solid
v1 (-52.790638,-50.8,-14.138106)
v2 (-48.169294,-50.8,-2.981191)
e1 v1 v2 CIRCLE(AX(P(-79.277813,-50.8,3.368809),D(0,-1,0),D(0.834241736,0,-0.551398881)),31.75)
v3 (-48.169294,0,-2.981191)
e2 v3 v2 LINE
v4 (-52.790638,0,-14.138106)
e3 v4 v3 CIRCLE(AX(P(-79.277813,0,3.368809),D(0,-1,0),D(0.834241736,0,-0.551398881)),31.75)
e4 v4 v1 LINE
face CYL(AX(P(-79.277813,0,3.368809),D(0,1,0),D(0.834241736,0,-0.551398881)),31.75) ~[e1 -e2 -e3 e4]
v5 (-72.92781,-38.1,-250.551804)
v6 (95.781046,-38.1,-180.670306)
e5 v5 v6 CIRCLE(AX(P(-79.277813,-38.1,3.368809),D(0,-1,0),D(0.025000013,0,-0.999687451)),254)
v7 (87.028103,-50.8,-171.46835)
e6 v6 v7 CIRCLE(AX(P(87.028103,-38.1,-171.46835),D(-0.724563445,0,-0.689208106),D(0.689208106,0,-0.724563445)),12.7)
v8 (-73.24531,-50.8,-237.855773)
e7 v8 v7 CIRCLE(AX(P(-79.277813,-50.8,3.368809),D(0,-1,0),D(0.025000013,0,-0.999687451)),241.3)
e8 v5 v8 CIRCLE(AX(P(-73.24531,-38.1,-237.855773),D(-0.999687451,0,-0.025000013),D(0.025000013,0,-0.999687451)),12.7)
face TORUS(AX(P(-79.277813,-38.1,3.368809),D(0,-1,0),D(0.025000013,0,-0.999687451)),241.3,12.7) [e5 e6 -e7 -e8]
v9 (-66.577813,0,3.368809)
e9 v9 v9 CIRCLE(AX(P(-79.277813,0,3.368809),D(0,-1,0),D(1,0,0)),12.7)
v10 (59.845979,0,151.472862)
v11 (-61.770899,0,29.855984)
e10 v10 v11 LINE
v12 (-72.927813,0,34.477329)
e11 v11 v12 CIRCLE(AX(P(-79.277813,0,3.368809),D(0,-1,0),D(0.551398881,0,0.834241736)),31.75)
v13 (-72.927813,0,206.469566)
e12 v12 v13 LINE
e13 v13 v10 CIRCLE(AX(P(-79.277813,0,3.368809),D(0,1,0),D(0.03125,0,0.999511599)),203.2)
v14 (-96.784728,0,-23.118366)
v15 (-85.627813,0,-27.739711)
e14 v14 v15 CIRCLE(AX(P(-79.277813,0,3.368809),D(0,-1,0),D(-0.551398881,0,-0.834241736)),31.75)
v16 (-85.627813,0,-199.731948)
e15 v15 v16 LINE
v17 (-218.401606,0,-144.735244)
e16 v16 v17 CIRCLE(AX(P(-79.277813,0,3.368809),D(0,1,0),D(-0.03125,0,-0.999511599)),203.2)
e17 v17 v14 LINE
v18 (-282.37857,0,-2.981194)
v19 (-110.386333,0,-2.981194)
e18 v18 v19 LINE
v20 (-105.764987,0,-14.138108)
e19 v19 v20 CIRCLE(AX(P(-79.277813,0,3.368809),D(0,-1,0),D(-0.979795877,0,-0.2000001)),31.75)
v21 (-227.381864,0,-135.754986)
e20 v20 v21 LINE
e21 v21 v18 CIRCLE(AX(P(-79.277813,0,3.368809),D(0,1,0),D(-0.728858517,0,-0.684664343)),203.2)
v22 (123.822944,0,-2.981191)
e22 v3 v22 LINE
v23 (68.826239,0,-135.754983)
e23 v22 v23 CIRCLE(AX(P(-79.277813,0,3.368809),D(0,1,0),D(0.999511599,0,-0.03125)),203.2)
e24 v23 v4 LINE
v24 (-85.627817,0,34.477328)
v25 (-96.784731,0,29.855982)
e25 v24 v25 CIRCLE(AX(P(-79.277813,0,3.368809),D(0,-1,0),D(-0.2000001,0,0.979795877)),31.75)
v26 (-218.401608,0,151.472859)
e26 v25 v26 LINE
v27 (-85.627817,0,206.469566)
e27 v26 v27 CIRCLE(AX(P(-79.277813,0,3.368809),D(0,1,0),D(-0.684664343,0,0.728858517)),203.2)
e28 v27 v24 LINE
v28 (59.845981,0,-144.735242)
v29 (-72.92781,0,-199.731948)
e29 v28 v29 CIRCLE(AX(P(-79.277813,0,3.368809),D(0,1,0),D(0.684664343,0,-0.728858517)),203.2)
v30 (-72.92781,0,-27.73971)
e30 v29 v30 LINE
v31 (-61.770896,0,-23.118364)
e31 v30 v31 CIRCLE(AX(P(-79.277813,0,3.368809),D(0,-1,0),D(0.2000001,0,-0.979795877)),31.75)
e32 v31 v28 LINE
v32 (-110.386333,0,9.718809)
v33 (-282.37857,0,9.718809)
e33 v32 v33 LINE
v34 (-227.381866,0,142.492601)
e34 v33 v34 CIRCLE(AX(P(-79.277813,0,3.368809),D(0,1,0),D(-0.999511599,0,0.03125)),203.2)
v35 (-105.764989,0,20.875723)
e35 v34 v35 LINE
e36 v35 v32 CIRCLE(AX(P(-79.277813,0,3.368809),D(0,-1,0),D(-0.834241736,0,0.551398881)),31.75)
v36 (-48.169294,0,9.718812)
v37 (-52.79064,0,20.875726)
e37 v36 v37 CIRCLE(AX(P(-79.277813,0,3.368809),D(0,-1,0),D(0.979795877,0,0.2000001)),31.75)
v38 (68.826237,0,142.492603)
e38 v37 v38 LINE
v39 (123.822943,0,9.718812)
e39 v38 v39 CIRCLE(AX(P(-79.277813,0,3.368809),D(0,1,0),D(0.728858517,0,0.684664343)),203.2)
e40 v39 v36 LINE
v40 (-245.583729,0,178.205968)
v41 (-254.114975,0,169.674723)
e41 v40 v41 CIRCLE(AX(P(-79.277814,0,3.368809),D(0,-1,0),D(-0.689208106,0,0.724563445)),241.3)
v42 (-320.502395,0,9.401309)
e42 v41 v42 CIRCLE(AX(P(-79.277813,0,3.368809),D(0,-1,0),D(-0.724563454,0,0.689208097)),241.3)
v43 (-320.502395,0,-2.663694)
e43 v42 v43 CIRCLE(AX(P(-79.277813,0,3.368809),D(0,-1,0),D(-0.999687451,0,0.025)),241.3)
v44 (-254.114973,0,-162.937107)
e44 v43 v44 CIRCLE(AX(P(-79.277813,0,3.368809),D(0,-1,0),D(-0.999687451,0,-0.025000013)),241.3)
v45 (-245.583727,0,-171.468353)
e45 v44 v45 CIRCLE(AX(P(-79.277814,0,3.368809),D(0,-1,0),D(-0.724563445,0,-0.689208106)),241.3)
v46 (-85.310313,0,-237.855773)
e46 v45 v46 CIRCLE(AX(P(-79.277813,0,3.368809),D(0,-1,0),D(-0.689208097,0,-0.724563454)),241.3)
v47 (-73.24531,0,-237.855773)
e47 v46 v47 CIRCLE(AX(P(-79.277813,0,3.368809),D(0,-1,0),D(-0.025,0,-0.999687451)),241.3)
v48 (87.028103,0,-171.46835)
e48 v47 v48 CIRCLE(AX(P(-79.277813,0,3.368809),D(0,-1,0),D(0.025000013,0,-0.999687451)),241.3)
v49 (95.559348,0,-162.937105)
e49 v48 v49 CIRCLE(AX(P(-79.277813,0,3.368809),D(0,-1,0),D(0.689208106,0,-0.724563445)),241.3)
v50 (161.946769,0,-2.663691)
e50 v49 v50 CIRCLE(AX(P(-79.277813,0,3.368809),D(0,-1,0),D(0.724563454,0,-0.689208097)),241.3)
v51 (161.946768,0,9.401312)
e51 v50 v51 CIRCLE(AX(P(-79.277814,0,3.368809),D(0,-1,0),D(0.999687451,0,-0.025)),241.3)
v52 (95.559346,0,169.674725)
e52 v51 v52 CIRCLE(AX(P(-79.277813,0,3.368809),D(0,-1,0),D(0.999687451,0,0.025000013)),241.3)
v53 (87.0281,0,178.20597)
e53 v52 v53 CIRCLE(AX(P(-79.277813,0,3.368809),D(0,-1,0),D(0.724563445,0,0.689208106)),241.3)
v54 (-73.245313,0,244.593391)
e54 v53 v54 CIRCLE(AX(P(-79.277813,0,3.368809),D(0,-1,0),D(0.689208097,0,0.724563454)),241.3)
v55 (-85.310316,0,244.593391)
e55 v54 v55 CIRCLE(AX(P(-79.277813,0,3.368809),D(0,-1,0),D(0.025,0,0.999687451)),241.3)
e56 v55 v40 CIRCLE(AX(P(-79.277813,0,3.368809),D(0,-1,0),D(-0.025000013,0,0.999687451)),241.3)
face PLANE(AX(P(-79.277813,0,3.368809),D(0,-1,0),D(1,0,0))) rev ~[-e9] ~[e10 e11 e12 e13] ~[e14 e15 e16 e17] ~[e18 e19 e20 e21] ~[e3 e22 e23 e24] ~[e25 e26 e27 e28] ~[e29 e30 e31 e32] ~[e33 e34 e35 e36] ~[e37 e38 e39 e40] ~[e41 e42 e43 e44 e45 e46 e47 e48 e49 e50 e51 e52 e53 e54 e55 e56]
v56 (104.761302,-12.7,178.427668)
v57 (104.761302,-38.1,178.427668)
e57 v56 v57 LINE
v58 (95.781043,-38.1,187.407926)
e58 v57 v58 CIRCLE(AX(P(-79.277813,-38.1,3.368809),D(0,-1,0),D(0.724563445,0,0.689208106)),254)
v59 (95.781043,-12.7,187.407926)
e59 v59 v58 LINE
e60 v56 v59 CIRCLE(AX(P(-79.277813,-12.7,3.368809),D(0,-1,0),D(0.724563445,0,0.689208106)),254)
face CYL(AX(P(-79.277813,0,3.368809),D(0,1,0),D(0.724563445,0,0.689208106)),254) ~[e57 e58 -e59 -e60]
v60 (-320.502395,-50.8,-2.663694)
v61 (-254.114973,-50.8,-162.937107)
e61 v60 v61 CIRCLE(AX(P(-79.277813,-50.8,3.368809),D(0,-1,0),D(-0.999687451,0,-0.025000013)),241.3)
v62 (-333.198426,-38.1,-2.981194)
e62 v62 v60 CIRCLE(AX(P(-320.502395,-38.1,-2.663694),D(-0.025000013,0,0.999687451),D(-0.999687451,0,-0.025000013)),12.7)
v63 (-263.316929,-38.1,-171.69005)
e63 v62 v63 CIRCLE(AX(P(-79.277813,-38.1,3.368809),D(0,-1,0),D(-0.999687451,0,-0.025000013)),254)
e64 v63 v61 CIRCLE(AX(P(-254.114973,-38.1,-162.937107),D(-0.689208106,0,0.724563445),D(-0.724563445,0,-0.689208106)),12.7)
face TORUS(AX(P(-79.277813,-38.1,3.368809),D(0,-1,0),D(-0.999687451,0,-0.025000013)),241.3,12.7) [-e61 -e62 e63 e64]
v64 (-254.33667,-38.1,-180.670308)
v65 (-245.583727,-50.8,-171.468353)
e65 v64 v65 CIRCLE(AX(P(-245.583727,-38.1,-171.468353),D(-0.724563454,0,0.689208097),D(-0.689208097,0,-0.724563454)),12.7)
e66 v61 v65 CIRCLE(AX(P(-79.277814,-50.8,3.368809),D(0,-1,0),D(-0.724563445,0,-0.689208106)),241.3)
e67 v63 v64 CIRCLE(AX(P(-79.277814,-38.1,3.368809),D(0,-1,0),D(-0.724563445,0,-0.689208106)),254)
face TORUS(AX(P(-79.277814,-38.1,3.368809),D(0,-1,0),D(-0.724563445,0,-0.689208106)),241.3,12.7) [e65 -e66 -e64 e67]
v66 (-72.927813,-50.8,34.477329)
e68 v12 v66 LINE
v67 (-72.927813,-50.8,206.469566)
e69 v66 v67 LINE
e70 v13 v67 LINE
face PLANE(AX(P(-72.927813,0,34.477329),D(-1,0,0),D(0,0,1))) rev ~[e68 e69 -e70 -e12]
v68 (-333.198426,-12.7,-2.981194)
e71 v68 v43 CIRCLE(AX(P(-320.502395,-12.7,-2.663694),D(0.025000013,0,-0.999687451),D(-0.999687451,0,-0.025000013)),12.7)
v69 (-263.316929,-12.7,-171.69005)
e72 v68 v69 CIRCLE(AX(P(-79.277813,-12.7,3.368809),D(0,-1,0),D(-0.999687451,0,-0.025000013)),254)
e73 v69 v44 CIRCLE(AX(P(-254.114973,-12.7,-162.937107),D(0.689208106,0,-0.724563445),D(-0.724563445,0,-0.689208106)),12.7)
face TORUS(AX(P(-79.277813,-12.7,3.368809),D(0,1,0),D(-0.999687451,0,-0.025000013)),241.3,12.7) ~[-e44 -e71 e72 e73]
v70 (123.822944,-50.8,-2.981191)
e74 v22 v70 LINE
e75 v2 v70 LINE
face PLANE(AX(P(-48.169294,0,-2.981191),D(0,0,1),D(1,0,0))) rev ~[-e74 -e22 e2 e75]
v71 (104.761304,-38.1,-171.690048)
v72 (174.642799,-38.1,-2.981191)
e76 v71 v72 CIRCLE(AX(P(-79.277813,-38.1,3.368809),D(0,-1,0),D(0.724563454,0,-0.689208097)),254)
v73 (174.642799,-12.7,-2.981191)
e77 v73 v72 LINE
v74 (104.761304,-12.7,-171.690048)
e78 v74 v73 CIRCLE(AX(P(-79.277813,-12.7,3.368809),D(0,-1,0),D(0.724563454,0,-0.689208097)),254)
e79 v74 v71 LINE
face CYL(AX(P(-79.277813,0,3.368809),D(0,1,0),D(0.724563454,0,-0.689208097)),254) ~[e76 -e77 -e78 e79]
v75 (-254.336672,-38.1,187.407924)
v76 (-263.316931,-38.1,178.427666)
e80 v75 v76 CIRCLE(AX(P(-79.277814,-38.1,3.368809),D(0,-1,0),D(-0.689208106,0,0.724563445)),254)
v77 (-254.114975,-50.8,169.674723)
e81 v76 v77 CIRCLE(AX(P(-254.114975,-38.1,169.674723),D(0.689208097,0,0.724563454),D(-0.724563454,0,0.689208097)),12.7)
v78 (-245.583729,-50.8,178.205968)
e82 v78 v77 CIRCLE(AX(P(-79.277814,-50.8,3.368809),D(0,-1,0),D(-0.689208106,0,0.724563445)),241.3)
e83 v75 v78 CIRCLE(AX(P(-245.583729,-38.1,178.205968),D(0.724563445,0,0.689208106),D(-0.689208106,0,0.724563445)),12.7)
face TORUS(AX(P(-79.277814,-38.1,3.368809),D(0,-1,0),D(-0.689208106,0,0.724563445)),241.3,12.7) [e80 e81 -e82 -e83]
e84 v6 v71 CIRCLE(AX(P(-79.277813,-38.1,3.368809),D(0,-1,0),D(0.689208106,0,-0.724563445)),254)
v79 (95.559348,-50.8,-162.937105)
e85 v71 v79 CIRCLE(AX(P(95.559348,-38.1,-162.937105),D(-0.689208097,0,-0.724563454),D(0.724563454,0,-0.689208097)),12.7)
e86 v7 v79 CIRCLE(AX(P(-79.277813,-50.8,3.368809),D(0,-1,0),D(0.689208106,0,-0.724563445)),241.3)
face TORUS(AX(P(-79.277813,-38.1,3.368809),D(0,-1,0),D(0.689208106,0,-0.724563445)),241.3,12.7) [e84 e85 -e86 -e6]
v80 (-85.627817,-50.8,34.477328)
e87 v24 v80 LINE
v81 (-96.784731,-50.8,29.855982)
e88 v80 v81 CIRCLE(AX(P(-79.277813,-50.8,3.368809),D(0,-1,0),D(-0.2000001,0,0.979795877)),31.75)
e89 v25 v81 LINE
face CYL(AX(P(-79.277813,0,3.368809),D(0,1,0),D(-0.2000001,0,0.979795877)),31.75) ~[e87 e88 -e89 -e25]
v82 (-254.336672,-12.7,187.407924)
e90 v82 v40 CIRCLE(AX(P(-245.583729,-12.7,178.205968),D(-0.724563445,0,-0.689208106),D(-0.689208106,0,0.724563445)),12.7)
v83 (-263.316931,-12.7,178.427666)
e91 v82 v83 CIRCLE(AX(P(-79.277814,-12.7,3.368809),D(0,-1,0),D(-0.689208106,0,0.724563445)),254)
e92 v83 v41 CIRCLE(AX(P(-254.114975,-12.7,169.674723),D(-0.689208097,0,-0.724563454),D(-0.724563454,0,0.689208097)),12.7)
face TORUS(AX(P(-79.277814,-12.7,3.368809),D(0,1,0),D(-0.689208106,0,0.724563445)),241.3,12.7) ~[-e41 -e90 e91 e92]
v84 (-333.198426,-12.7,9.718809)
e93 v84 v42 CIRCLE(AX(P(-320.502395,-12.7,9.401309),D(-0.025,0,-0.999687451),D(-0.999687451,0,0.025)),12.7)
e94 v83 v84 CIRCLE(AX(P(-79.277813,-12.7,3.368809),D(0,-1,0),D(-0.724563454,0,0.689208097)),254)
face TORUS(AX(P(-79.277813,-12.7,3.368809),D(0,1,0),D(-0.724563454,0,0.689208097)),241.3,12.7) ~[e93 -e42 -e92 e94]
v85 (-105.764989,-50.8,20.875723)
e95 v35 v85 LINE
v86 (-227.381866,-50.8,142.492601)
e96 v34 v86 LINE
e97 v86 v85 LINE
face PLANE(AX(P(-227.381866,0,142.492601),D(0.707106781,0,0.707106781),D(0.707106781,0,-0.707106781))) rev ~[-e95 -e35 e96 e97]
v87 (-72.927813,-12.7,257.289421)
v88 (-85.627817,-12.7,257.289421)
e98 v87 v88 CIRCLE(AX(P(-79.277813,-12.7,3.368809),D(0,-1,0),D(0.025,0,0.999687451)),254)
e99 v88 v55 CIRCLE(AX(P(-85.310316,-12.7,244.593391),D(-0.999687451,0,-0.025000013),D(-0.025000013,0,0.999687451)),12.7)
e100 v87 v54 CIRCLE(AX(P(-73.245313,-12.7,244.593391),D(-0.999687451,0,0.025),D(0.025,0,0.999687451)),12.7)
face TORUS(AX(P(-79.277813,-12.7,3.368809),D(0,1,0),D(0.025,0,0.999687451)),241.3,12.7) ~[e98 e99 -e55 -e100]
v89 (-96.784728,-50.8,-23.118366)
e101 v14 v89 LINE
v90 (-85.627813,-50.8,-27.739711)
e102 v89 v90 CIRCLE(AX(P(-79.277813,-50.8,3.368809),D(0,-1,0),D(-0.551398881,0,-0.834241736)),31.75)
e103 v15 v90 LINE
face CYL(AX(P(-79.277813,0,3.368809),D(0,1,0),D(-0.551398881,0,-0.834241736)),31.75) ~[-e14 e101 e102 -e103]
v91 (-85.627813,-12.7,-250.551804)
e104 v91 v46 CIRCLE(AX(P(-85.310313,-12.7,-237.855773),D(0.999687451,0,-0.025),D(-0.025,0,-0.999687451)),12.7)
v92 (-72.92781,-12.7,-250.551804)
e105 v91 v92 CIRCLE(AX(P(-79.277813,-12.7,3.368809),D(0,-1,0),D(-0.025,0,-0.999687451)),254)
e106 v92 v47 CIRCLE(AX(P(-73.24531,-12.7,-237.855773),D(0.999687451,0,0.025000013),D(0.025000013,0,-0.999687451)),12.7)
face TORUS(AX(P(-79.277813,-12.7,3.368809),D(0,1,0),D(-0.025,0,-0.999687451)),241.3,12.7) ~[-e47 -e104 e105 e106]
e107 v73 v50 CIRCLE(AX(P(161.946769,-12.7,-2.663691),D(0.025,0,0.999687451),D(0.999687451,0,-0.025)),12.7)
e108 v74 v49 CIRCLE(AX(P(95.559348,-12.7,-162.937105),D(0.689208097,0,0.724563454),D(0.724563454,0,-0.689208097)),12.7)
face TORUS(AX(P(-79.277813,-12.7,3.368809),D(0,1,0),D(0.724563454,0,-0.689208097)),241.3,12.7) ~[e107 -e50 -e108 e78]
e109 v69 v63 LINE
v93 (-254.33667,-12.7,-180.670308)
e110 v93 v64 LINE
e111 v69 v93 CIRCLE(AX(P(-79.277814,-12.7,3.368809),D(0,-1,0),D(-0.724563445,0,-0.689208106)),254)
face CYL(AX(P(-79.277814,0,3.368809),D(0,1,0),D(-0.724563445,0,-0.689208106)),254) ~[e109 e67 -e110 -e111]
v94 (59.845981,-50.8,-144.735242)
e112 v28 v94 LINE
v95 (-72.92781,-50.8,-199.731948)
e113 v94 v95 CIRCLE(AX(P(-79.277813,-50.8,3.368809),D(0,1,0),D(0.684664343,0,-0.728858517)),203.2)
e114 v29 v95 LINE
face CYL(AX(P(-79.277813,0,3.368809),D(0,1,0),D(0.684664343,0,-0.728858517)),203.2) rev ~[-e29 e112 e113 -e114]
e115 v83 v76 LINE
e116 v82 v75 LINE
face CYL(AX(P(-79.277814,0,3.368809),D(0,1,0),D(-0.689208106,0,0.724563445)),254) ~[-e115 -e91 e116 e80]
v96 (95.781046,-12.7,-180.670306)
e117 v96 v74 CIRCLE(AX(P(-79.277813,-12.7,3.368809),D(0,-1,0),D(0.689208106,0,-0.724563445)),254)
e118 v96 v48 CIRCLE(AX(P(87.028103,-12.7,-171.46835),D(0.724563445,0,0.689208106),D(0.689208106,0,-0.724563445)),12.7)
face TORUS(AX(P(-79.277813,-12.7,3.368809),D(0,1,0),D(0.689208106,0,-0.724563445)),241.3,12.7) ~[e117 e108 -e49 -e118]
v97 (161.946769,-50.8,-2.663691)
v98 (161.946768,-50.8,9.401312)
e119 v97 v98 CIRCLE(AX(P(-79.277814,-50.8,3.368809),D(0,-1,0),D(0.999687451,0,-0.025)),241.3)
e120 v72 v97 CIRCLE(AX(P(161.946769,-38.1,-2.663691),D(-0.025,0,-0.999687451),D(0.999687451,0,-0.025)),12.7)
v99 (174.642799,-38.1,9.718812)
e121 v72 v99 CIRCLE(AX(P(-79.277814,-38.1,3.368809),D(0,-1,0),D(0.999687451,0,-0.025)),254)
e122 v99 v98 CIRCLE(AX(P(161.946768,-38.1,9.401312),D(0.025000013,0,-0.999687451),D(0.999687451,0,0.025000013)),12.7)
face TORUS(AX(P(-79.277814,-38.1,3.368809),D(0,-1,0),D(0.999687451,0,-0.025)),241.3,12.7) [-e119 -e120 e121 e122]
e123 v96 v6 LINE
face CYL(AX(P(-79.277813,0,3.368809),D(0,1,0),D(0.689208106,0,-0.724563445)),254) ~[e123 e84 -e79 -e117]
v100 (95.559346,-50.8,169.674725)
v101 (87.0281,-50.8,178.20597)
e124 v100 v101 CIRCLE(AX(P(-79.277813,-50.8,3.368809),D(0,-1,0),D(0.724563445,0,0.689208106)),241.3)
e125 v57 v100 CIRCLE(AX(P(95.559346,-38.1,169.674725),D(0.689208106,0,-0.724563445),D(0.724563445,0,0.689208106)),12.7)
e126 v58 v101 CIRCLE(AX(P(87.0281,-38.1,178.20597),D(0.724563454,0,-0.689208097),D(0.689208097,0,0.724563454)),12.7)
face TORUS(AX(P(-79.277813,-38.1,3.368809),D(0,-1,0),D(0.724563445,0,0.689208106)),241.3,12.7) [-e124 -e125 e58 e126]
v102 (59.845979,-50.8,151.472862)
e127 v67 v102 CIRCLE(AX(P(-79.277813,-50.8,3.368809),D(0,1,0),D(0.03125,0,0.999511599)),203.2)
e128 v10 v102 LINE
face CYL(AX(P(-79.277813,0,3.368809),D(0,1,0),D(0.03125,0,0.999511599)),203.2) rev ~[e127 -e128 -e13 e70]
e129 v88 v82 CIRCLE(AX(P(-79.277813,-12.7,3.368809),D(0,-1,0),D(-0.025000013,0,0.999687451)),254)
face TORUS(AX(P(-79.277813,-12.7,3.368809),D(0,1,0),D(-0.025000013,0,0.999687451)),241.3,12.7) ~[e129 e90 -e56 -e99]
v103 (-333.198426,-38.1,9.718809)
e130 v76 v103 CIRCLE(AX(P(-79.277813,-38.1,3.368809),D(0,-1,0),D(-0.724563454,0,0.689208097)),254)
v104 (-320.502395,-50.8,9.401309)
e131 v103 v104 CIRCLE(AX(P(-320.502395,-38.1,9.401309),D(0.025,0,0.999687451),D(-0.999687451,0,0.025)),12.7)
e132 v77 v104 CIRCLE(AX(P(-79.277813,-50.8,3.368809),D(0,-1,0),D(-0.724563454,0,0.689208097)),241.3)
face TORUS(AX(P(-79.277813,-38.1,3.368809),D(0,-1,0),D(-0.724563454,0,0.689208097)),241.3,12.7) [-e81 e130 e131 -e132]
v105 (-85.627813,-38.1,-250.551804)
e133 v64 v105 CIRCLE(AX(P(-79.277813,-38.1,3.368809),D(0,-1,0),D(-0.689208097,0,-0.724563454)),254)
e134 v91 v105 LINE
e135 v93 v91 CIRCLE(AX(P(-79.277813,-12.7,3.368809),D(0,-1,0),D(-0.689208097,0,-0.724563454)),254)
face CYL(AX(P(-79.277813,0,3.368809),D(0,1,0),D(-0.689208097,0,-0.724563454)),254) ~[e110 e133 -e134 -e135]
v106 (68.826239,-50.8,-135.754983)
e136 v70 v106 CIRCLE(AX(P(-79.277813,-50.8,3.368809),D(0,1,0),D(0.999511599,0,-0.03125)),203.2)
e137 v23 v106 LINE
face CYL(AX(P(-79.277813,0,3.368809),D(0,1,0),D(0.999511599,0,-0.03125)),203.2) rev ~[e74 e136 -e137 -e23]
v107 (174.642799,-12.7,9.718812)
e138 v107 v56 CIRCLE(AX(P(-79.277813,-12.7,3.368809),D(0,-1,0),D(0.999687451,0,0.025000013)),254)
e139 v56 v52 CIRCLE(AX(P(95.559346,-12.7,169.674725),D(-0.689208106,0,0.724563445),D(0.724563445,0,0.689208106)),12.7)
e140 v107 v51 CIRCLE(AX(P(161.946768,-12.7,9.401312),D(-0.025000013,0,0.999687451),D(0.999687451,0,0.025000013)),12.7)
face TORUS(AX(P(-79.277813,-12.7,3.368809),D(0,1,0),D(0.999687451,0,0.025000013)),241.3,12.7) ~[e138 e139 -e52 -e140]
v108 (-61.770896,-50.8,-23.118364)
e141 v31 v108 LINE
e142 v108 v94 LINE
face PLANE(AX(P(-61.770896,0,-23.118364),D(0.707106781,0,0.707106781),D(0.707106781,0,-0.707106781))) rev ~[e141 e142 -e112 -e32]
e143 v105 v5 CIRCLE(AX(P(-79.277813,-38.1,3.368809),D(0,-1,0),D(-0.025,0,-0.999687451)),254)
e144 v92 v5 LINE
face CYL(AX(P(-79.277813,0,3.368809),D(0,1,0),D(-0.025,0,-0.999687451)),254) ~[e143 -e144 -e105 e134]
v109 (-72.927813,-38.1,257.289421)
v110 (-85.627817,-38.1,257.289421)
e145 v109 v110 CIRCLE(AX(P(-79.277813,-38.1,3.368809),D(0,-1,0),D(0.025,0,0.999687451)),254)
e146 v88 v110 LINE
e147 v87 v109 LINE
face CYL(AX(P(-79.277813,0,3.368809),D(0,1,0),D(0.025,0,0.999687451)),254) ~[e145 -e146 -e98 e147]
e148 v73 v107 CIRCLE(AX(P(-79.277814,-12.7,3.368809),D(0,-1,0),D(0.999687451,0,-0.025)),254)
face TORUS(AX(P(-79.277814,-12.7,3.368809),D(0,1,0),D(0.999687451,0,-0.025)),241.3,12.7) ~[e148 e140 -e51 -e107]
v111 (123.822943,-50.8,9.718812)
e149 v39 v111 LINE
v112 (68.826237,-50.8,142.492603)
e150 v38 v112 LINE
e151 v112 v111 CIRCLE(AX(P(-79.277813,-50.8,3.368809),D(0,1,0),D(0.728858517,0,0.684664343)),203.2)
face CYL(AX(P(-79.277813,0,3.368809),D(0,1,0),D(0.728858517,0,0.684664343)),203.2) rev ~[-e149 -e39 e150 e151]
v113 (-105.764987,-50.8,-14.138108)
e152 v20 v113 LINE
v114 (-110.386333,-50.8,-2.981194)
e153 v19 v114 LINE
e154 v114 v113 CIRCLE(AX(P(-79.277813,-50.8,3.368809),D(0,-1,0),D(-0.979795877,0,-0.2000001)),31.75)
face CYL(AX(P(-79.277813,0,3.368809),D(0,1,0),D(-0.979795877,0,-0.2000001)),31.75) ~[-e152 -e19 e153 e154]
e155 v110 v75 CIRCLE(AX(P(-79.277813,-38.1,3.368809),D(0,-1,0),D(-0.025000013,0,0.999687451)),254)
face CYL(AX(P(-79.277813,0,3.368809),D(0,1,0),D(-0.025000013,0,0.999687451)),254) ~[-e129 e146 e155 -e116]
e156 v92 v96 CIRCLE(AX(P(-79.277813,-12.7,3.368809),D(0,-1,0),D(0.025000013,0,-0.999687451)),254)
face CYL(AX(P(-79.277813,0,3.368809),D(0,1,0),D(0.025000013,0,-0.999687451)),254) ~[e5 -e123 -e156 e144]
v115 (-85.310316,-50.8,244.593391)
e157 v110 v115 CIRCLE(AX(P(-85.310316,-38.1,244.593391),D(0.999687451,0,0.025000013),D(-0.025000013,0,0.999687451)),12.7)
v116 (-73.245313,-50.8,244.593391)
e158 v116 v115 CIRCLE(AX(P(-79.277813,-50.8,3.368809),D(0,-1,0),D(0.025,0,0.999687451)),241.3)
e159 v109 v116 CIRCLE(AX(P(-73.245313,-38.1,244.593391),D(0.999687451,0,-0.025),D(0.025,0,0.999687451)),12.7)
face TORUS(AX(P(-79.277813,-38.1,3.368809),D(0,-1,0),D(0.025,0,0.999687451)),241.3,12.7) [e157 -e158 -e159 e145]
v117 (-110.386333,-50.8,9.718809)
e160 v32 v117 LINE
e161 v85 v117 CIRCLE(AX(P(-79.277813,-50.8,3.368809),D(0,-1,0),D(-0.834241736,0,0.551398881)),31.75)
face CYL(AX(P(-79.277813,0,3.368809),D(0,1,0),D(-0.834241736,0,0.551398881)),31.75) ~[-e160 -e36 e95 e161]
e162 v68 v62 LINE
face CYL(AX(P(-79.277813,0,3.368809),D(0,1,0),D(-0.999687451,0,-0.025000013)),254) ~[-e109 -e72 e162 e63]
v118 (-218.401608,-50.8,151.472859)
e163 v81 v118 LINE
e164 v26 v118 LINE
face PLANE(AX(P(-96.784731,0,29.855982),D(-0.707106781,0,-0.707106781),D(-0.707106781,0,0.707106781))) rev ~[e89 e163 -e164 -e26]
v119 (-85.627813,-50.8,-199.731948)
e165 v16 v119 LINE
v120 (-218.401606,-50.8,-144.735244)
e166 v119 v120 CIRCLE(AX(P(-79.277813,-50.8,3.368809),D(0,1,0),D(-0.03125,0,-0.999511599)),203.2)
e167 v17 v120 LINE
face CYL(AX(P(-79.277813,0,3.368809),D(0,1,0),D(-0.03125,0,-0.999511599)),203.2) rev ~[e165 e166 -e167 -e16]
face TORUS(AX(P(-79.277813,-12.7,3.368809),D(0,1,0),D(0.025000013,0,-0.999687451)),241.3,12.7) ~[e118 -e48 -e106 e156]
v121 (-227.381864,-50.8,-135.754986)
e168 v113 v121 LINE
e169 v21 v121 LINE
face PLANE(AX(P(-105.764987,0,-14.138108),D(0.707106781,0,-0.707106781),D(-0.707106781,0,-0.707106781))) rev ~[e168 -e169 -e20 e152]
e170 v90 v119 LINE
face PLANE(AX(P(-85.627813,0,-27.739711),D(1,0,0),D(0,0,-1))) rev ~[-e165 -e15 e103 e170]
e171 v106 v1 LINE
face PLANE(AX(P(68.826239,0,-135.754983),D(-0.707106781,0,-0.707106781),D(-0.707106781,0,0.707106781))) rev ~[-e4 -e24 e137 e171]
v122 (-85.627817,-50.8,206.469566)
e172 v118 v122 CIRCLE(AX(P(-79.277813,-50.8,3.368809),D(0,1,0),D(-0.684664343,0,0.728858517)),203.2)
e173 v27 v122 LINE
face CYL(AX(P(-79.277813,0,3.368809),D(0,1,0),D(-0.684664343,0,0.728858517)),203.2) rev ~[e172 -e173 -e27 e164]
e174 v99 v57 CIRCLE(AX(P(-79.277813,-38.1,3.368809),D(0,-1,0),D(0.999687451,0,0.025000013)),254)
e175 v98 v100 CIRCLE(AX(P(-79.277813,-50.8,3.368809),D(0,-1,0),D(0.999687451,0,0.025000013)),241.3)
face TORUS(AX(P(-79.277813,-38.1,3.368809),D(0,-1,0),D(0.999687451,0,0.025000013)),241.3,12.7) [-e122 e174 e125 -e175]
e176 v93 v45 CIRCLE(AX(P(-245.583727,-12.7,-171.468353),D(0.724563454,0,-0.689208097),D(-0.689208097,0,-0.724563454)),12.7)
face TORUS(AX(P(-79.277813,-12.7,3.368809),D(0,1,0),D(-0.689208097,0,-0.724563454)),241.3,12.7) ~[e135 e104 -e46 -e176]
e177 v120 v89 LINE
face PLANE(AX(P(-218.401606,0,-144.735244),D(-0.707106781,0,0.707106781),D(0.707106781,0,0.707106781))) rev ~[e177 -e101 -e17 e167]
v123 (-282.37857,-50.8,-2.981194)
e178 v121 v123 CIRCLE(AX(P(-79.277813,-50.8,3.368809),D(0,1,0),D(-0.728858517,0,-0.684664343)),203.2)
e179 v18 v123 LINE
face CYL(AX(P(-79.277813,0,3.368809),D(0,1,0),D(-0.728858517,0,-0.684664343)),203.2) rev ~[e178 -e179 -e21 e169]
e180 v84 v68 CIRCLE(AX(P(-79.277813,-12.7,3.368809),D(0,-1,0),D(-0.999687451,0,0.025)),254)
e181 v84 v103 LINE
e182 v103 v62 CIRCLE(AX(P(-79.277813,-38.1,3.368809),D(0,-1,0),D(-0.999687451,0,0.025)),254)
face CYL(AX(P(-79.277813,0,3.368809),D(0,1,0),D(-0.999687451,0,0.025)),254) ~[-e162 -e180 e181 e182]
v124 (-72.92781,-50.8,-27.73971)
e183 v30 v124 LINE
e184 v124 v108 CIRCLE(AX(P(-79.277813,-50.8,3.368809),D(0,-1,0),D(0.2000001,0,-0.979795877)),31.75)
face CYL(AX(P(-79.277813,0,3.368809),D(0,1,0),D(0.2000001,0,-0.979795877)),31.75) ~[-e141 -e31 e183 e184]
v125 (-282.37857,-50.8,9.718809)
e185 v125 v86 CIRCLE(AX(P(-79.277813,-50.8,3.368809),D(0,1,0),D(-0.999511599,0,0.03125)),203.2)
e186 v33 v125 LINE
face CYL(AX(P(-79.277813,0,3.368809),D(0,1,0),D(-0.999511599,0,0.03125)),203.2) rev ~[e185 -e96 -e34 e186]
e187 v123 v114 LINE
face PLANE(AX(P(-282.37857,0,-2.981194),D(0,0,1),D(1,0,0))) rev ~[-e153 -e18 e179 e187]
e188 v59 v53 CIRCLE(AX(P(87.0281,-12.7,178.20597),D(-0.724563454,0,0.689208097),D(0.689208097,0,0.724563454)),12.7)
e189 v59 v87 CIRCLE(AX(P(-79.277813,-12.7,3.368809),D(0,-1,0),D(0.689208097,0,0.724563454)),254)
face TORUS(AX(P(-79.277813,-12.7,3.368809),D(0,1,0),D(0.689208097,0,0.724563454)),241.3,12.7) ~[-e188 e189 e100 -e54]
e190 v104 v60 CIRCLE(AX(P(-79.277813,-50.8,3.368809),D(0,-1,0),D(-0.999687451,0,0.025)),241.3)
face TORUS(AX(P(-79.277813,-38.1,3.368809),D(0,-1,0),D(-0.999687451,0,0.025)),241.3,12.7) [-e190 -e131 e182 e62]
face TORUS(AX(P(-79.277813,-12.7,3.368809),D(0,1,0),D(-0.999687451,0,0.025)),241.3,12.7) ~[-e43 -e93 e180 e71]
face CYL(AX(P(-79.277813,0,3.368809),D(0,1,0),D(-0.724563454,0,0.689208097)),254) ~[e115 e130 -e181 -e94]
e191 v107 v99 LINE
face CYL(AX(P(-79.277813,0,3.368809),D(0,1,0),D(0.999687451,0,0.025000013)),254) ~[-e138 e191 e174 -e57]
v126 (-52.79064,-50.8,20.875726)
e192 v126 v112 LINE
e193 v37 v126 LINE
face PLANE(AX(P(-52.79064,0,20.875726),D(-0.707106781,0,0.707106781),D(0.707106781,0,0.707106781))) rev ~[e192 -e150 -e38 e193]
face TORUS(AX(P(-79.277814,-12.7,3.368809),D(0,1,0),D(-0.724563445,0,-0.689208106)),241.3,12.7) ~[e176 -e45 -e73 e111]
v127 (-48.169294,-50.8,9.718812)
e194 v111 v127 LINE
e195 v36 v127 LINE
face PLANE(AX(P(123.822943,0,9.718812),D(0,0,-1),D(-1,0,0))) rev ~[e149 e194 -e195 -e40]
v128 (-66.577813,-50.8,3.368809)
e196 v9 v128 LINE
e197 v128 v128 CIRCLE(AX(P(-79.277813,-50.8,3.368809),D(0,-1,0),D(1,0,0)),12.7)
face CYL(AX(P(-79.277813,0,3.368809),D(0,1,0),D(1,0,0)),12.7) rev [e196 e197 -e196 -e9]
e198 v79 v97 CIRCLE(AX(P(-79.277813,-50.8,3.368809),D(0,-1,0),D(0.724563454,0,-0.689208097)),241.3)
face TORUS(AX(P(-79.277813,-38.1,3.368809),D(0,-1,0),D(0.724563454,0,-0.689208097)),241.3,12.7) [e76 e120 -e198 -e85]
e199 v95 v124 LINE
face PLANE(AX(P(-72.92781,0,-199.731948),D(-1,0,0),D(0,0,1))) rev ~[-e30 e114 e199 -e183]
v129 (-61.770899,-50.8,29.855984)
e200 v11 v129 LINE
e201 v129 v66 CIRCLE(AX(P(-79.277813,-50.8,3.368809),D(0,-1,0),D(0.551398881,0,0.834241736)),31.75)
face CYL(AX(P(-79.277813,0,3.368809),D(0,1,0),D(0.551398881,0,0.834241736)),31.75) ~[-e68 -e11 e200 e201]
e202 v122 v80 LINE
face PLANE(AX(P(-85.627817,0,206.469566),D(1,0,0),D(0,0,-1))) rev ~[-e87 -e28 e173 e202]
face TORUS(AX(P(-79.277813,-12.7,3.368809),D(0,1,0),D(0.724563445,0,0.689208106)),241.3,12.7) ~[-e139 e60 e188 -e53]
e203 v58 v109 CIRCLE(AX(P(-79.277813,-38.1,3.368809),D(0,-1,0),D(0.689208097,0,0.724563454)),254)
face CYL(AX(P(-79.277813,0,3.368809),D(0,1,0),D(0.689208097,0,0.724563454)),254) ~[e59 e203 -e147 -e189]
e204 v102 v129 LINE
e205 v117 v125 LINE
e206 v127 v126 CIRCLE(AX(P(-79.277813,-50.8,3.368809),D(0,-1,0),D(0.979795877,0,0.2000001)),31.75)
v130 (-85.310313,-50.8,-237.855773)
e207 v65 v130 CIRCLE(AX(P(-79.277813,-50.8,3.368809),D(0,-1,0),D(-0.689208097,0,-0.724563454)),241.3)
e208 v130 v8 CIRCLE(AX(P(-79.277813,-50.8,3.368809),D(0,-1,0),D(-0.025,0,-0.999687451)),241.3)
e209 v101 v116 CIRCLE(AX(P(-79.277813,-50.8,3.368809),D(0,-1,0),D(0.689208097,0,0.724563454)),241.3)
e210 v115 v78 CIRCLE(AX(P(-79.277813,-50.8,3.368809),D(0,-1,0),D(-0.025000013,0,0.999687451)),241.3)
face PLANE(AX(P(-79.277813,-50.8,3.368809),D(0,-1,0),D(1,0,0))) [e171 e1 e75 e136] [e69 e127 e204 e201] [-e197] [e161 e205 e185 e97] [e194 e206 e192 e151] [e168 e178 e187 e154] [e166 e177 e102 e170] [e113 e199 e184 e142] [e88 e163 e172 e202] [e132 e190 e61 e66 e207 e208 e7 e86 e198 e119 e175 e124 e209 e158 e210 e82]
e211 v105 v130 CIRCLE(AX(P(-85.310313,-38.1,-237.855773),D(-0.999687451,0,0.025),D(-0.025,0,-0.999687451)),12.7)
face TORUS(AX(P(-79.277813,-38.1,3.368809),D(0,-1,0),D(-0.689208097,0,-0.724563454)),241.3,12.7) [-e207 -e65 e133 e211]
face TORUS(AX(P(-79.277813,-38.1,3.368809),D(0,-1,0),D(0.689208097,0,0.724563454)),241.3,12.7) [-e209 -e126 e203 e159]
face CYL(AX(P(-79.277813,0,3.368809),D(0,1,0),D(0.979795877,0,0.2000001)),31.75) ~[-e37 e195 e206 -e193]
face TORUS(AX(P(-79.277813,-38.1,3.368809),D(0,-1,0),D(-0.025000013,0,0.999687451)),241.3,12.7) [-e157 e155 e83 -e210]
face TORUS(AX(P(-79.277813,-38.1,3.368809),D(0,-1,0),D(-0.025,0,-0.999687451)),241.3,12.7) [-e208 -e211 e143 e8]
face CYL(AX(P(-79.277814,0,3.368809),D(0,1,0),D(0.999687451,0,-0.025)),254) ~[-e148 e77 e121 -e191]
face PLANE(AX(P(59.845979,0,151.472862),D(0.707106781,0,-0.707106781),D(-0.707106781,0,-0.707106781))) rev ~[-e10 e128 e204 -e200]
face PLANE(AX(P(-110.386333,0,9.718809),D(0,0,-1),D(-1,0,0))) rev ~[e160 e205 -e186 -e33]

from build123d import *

# Parameters (mm, degrees)
F0_R     = 12.7
F1_DEPTH = 50.8
F2_R     = 12.7


with BuildPart() as f1:
    # F0 (on Front) → F1 (new body)
    with BuildSketch(Plane.XZ):
        with BuildLine():
            ThreePointArc((174.6427991592, -2.9811911121), (174.7023389384, 0.1935607732), (174.7221865654, 3.3688088879))
            ThreePointArc((174.7221865654, 3.3688088879), (174.7023389185, 6.5440585944), (174.6427990796, 9.7188120708))
            ThreePointArc((174.6427990796, 9.7188120708), (155.3875872141, 100.5704021794), (104.761301674, 178.4276678755))
            ThreePointArc((104.761301674, 178.4276678755), (100.3273078611, 182.973932435), (95.781043246, 187.4079261909))
            ThreePointArc((95.781043246, 187.4079261909), (17.9237769154, 238.034210755), (-72.9278134346, 257.2894214817))
            ThreePointArc((-72.9278134346, 257.2894214817), (-79.2778150265, 257.3688088879), (-85.6278166175, 257.2894214021))
            ThreePointArc((-85.6278166175, 257.2894214021), (-176.4794067261, 238.0342095366), (-254.3366724222, 187.4079239965))
            ThreePointArc((-254.3366724222, 187.4079239965), (-258.8829369817, 182.9739301836), (-263.3169307376, 178.4276655685))
            ThreePointArc((-263.3169307376, 178.4276655685), (-313.9432153017, 100.5703992379), (-333.1984260284, 9.7188088879))
            ThreePointArc((-333.1984260284, 9.7188088879), (-333.2778134346, 3.368807296), (-333.1984259488, -2.981194295))
            ThreePointArc((-333.1984259488, -2.981194295), (-313.9432140833, -93.8327844036), (-263.3169285432, -171.6900500997))
            ThreePointArc((-263.3169285432, -171.6900500997), (-258.8829347303, -176.2363146592), (-254.3366701152, -180.6703084151))
            ThreePointArc((-254.3366701152, -180.6703084151), (-176.4794037846, -231.2965929792), (-85.6278134346, -250.5518037059))
            ThreePointArc((-85.6278134346, -250.5518037059), (-79.2778118427, -250.6311911121), (-72.9278102517, -250.5518036263))
            ThreePointArc((-72.9278102517, -250.5518036263), (17.9237798569, -231.2965917608), (95.781045553, -180.6703062207))
            ThreePointArc((95.781045553, -180.6703062207), (100.3273101125, -176.2363124078), (104.7613038684, -171.6900477927))
            ThreePointArc((104.7613038684, -171.6900477927), (155.3875884325, -93.8327814621), (174.6427991592, -2.9811911121))
        make_face()
        with BuildLine():
            Line((-218.4016056024, -144.7352439022), (-96.7847279201, -23.11836622))
            ThreePointArc((-96.7847279201, -23.11836622), (-91.4280109116, -25.9643668909), (-85.6278134346, -27.7397108454))
            Line((-85.6278134346, -27.7397108454), (-85.6278134346, -199.7319481269))
            ThreePointArc((-85.6278134346, -199.7319481269), (-157.0390854202, -184.3635127277), (-218.4016056024, -144.7352439022))
        make_face(mode=Mode.SUBTRACT)
        with BuildLine():
            ThreePointArc((-227.3818640444, -135.7549856009), (-267.0101338316, -74.3924660397), (-282.3785703499, -2.981194295))
            Line((-282.3785703499, -2.981194295), (-110.3863325182, -2.981194295))
            ThreePointArc((-110.3863325182, -2.981194295), (-108.6109879703, -8.7813915903), (-105.7649867513, -14.1381083077))
            Line((-105.7649867513, -14.1381083077), (-227.3818640444, -135.7549856009))
        make_face(mode=Mode.SUBTRACT)
        with BuildLine():
            Line((-72.9278102517, -199.7319480274), (-72.9278102517, -27.7397101957))
            ThreePointArc((-72.9278102517, -27.7397101957), (-67.1276129564, -25.9643656478), (-61.770896239, -23.1183644288))
            Line((-61.770896239, -23.1183644288), (59.8459810542, -144.7352417219))
            ThreePointArc((59.8459810542, -144.7352417219), (-1.516538507, -184.3635115091), (-72.9278102517, -199.7319480274))
        make_face(mode=Mode.SUBTRACT)
        with BuildLine():
            Line((68.8262393555, -135.7549832799), (-52.7906383267, -14.1381055976))
            ThreePointArc((-52.7906383267, -14.1381055976), (-49.9446376558, -8.7813885891), (-48.1692937013, -2.9811911121))
            Line((-48.1692937013, -2.9811911121), (123.8229435802, -2.9811911121))
            ThreePointArc((123.8229435802, -2.9811911121), (108.454508181, -74.3924630977), (68.8262393555, -135.7549832799))
        make_face(mode=Mode.SUBTRACT)
        with BuildLine():
            Line((-227.3818662247, 142.4926010557), (-105.7649885425, 20.8757233734))
            ThreePointArc((-105.7649885425, 20.8757233734), (-108.6109892134, 15.5190063649), (-110.3863331679, 9.7188088879))
            Line((-110.3863331679, 9.7188088879), (-282.3785704494, 9.7188088879))
            ThreePointArc((-282.3785704494, 9.7188088879), (-267.0101350502, 81.1300808735), (-227.3818662247, 142.4926010557))
        make_face(mode=Mode.SUBTRACT)
        with BuildLine():
            Line((-85.6278166175, 206.4695658032), (-85.6278166175, 34.4773279715))
            ThreePointArc((-85.6278166175, 34.4773279715), (-91.4280139128, 32.7019834236), (-96.7847306302, 29.8559822046))
            Line((-96.7847306302, 29.8559822046), (-218.4016079234, 151.4728594977))
            ThreePointArc((-218.4016079234, 151.4728594977), (-157.0390883622, 191.1011292849), (-85.6278166175, 206.4695658032))
        make_face(mode=Mode.SUBTRACT)
        with Locations((-79.2778134346, 3.3688088879)):
            Circle(F0_R, mode=Mode.SUBTRACT)
        with BuildLine():
            Line((123.8229434807, 9.7188120708), (-48.169294351, 9.7188120708))
            ThreePointArc((-48.169294351, 9.7188120708), (-49.9446388989, 15.5190093661), (-52.7906401179, 20.8757260835))
            Line((-52.7906401179, 20.8757260835), (68.8262371752, 142.4926033767))
            ThreePointArc((68.8262371752, 142.4926033767), (108.4545069624, 81.1300838155), (123.8229434807, 9.7188120708))
        make_face(mode=Mode.SUBTRACT)
        with BuildLine():
            ThreePointArc((-61.7708989491, 29.8559839958), (-67.1276159576, 32.7019846667), (-72.9278134346, 34.4773286212))
            Line((-72.9278134346, 34.4773286212), (-72.9278134346, 206.4695659027))
            ThreePointArc((-72.9278134346, 206.4695659027), (-1.516541449, 191.1011305035), (59.8459787332, 151.472861678))
            Line((59.8459787332, 151.472861678), (-61.7708989491, 29.8559839958))
        make_face(mode=Mode.SUBTRACT)
    extrude(amount=F1_DEPTH)

    # F2
    f2_edges = [f1.edges().sort_by_distance(p)[0] for p in [
        (-254.33667, -50.8, -180.670308),
        (-254.33667, 0, -180.670308),
    ]]
    fillet(f2_edges, radius=F2_R)


solid = f1.part
